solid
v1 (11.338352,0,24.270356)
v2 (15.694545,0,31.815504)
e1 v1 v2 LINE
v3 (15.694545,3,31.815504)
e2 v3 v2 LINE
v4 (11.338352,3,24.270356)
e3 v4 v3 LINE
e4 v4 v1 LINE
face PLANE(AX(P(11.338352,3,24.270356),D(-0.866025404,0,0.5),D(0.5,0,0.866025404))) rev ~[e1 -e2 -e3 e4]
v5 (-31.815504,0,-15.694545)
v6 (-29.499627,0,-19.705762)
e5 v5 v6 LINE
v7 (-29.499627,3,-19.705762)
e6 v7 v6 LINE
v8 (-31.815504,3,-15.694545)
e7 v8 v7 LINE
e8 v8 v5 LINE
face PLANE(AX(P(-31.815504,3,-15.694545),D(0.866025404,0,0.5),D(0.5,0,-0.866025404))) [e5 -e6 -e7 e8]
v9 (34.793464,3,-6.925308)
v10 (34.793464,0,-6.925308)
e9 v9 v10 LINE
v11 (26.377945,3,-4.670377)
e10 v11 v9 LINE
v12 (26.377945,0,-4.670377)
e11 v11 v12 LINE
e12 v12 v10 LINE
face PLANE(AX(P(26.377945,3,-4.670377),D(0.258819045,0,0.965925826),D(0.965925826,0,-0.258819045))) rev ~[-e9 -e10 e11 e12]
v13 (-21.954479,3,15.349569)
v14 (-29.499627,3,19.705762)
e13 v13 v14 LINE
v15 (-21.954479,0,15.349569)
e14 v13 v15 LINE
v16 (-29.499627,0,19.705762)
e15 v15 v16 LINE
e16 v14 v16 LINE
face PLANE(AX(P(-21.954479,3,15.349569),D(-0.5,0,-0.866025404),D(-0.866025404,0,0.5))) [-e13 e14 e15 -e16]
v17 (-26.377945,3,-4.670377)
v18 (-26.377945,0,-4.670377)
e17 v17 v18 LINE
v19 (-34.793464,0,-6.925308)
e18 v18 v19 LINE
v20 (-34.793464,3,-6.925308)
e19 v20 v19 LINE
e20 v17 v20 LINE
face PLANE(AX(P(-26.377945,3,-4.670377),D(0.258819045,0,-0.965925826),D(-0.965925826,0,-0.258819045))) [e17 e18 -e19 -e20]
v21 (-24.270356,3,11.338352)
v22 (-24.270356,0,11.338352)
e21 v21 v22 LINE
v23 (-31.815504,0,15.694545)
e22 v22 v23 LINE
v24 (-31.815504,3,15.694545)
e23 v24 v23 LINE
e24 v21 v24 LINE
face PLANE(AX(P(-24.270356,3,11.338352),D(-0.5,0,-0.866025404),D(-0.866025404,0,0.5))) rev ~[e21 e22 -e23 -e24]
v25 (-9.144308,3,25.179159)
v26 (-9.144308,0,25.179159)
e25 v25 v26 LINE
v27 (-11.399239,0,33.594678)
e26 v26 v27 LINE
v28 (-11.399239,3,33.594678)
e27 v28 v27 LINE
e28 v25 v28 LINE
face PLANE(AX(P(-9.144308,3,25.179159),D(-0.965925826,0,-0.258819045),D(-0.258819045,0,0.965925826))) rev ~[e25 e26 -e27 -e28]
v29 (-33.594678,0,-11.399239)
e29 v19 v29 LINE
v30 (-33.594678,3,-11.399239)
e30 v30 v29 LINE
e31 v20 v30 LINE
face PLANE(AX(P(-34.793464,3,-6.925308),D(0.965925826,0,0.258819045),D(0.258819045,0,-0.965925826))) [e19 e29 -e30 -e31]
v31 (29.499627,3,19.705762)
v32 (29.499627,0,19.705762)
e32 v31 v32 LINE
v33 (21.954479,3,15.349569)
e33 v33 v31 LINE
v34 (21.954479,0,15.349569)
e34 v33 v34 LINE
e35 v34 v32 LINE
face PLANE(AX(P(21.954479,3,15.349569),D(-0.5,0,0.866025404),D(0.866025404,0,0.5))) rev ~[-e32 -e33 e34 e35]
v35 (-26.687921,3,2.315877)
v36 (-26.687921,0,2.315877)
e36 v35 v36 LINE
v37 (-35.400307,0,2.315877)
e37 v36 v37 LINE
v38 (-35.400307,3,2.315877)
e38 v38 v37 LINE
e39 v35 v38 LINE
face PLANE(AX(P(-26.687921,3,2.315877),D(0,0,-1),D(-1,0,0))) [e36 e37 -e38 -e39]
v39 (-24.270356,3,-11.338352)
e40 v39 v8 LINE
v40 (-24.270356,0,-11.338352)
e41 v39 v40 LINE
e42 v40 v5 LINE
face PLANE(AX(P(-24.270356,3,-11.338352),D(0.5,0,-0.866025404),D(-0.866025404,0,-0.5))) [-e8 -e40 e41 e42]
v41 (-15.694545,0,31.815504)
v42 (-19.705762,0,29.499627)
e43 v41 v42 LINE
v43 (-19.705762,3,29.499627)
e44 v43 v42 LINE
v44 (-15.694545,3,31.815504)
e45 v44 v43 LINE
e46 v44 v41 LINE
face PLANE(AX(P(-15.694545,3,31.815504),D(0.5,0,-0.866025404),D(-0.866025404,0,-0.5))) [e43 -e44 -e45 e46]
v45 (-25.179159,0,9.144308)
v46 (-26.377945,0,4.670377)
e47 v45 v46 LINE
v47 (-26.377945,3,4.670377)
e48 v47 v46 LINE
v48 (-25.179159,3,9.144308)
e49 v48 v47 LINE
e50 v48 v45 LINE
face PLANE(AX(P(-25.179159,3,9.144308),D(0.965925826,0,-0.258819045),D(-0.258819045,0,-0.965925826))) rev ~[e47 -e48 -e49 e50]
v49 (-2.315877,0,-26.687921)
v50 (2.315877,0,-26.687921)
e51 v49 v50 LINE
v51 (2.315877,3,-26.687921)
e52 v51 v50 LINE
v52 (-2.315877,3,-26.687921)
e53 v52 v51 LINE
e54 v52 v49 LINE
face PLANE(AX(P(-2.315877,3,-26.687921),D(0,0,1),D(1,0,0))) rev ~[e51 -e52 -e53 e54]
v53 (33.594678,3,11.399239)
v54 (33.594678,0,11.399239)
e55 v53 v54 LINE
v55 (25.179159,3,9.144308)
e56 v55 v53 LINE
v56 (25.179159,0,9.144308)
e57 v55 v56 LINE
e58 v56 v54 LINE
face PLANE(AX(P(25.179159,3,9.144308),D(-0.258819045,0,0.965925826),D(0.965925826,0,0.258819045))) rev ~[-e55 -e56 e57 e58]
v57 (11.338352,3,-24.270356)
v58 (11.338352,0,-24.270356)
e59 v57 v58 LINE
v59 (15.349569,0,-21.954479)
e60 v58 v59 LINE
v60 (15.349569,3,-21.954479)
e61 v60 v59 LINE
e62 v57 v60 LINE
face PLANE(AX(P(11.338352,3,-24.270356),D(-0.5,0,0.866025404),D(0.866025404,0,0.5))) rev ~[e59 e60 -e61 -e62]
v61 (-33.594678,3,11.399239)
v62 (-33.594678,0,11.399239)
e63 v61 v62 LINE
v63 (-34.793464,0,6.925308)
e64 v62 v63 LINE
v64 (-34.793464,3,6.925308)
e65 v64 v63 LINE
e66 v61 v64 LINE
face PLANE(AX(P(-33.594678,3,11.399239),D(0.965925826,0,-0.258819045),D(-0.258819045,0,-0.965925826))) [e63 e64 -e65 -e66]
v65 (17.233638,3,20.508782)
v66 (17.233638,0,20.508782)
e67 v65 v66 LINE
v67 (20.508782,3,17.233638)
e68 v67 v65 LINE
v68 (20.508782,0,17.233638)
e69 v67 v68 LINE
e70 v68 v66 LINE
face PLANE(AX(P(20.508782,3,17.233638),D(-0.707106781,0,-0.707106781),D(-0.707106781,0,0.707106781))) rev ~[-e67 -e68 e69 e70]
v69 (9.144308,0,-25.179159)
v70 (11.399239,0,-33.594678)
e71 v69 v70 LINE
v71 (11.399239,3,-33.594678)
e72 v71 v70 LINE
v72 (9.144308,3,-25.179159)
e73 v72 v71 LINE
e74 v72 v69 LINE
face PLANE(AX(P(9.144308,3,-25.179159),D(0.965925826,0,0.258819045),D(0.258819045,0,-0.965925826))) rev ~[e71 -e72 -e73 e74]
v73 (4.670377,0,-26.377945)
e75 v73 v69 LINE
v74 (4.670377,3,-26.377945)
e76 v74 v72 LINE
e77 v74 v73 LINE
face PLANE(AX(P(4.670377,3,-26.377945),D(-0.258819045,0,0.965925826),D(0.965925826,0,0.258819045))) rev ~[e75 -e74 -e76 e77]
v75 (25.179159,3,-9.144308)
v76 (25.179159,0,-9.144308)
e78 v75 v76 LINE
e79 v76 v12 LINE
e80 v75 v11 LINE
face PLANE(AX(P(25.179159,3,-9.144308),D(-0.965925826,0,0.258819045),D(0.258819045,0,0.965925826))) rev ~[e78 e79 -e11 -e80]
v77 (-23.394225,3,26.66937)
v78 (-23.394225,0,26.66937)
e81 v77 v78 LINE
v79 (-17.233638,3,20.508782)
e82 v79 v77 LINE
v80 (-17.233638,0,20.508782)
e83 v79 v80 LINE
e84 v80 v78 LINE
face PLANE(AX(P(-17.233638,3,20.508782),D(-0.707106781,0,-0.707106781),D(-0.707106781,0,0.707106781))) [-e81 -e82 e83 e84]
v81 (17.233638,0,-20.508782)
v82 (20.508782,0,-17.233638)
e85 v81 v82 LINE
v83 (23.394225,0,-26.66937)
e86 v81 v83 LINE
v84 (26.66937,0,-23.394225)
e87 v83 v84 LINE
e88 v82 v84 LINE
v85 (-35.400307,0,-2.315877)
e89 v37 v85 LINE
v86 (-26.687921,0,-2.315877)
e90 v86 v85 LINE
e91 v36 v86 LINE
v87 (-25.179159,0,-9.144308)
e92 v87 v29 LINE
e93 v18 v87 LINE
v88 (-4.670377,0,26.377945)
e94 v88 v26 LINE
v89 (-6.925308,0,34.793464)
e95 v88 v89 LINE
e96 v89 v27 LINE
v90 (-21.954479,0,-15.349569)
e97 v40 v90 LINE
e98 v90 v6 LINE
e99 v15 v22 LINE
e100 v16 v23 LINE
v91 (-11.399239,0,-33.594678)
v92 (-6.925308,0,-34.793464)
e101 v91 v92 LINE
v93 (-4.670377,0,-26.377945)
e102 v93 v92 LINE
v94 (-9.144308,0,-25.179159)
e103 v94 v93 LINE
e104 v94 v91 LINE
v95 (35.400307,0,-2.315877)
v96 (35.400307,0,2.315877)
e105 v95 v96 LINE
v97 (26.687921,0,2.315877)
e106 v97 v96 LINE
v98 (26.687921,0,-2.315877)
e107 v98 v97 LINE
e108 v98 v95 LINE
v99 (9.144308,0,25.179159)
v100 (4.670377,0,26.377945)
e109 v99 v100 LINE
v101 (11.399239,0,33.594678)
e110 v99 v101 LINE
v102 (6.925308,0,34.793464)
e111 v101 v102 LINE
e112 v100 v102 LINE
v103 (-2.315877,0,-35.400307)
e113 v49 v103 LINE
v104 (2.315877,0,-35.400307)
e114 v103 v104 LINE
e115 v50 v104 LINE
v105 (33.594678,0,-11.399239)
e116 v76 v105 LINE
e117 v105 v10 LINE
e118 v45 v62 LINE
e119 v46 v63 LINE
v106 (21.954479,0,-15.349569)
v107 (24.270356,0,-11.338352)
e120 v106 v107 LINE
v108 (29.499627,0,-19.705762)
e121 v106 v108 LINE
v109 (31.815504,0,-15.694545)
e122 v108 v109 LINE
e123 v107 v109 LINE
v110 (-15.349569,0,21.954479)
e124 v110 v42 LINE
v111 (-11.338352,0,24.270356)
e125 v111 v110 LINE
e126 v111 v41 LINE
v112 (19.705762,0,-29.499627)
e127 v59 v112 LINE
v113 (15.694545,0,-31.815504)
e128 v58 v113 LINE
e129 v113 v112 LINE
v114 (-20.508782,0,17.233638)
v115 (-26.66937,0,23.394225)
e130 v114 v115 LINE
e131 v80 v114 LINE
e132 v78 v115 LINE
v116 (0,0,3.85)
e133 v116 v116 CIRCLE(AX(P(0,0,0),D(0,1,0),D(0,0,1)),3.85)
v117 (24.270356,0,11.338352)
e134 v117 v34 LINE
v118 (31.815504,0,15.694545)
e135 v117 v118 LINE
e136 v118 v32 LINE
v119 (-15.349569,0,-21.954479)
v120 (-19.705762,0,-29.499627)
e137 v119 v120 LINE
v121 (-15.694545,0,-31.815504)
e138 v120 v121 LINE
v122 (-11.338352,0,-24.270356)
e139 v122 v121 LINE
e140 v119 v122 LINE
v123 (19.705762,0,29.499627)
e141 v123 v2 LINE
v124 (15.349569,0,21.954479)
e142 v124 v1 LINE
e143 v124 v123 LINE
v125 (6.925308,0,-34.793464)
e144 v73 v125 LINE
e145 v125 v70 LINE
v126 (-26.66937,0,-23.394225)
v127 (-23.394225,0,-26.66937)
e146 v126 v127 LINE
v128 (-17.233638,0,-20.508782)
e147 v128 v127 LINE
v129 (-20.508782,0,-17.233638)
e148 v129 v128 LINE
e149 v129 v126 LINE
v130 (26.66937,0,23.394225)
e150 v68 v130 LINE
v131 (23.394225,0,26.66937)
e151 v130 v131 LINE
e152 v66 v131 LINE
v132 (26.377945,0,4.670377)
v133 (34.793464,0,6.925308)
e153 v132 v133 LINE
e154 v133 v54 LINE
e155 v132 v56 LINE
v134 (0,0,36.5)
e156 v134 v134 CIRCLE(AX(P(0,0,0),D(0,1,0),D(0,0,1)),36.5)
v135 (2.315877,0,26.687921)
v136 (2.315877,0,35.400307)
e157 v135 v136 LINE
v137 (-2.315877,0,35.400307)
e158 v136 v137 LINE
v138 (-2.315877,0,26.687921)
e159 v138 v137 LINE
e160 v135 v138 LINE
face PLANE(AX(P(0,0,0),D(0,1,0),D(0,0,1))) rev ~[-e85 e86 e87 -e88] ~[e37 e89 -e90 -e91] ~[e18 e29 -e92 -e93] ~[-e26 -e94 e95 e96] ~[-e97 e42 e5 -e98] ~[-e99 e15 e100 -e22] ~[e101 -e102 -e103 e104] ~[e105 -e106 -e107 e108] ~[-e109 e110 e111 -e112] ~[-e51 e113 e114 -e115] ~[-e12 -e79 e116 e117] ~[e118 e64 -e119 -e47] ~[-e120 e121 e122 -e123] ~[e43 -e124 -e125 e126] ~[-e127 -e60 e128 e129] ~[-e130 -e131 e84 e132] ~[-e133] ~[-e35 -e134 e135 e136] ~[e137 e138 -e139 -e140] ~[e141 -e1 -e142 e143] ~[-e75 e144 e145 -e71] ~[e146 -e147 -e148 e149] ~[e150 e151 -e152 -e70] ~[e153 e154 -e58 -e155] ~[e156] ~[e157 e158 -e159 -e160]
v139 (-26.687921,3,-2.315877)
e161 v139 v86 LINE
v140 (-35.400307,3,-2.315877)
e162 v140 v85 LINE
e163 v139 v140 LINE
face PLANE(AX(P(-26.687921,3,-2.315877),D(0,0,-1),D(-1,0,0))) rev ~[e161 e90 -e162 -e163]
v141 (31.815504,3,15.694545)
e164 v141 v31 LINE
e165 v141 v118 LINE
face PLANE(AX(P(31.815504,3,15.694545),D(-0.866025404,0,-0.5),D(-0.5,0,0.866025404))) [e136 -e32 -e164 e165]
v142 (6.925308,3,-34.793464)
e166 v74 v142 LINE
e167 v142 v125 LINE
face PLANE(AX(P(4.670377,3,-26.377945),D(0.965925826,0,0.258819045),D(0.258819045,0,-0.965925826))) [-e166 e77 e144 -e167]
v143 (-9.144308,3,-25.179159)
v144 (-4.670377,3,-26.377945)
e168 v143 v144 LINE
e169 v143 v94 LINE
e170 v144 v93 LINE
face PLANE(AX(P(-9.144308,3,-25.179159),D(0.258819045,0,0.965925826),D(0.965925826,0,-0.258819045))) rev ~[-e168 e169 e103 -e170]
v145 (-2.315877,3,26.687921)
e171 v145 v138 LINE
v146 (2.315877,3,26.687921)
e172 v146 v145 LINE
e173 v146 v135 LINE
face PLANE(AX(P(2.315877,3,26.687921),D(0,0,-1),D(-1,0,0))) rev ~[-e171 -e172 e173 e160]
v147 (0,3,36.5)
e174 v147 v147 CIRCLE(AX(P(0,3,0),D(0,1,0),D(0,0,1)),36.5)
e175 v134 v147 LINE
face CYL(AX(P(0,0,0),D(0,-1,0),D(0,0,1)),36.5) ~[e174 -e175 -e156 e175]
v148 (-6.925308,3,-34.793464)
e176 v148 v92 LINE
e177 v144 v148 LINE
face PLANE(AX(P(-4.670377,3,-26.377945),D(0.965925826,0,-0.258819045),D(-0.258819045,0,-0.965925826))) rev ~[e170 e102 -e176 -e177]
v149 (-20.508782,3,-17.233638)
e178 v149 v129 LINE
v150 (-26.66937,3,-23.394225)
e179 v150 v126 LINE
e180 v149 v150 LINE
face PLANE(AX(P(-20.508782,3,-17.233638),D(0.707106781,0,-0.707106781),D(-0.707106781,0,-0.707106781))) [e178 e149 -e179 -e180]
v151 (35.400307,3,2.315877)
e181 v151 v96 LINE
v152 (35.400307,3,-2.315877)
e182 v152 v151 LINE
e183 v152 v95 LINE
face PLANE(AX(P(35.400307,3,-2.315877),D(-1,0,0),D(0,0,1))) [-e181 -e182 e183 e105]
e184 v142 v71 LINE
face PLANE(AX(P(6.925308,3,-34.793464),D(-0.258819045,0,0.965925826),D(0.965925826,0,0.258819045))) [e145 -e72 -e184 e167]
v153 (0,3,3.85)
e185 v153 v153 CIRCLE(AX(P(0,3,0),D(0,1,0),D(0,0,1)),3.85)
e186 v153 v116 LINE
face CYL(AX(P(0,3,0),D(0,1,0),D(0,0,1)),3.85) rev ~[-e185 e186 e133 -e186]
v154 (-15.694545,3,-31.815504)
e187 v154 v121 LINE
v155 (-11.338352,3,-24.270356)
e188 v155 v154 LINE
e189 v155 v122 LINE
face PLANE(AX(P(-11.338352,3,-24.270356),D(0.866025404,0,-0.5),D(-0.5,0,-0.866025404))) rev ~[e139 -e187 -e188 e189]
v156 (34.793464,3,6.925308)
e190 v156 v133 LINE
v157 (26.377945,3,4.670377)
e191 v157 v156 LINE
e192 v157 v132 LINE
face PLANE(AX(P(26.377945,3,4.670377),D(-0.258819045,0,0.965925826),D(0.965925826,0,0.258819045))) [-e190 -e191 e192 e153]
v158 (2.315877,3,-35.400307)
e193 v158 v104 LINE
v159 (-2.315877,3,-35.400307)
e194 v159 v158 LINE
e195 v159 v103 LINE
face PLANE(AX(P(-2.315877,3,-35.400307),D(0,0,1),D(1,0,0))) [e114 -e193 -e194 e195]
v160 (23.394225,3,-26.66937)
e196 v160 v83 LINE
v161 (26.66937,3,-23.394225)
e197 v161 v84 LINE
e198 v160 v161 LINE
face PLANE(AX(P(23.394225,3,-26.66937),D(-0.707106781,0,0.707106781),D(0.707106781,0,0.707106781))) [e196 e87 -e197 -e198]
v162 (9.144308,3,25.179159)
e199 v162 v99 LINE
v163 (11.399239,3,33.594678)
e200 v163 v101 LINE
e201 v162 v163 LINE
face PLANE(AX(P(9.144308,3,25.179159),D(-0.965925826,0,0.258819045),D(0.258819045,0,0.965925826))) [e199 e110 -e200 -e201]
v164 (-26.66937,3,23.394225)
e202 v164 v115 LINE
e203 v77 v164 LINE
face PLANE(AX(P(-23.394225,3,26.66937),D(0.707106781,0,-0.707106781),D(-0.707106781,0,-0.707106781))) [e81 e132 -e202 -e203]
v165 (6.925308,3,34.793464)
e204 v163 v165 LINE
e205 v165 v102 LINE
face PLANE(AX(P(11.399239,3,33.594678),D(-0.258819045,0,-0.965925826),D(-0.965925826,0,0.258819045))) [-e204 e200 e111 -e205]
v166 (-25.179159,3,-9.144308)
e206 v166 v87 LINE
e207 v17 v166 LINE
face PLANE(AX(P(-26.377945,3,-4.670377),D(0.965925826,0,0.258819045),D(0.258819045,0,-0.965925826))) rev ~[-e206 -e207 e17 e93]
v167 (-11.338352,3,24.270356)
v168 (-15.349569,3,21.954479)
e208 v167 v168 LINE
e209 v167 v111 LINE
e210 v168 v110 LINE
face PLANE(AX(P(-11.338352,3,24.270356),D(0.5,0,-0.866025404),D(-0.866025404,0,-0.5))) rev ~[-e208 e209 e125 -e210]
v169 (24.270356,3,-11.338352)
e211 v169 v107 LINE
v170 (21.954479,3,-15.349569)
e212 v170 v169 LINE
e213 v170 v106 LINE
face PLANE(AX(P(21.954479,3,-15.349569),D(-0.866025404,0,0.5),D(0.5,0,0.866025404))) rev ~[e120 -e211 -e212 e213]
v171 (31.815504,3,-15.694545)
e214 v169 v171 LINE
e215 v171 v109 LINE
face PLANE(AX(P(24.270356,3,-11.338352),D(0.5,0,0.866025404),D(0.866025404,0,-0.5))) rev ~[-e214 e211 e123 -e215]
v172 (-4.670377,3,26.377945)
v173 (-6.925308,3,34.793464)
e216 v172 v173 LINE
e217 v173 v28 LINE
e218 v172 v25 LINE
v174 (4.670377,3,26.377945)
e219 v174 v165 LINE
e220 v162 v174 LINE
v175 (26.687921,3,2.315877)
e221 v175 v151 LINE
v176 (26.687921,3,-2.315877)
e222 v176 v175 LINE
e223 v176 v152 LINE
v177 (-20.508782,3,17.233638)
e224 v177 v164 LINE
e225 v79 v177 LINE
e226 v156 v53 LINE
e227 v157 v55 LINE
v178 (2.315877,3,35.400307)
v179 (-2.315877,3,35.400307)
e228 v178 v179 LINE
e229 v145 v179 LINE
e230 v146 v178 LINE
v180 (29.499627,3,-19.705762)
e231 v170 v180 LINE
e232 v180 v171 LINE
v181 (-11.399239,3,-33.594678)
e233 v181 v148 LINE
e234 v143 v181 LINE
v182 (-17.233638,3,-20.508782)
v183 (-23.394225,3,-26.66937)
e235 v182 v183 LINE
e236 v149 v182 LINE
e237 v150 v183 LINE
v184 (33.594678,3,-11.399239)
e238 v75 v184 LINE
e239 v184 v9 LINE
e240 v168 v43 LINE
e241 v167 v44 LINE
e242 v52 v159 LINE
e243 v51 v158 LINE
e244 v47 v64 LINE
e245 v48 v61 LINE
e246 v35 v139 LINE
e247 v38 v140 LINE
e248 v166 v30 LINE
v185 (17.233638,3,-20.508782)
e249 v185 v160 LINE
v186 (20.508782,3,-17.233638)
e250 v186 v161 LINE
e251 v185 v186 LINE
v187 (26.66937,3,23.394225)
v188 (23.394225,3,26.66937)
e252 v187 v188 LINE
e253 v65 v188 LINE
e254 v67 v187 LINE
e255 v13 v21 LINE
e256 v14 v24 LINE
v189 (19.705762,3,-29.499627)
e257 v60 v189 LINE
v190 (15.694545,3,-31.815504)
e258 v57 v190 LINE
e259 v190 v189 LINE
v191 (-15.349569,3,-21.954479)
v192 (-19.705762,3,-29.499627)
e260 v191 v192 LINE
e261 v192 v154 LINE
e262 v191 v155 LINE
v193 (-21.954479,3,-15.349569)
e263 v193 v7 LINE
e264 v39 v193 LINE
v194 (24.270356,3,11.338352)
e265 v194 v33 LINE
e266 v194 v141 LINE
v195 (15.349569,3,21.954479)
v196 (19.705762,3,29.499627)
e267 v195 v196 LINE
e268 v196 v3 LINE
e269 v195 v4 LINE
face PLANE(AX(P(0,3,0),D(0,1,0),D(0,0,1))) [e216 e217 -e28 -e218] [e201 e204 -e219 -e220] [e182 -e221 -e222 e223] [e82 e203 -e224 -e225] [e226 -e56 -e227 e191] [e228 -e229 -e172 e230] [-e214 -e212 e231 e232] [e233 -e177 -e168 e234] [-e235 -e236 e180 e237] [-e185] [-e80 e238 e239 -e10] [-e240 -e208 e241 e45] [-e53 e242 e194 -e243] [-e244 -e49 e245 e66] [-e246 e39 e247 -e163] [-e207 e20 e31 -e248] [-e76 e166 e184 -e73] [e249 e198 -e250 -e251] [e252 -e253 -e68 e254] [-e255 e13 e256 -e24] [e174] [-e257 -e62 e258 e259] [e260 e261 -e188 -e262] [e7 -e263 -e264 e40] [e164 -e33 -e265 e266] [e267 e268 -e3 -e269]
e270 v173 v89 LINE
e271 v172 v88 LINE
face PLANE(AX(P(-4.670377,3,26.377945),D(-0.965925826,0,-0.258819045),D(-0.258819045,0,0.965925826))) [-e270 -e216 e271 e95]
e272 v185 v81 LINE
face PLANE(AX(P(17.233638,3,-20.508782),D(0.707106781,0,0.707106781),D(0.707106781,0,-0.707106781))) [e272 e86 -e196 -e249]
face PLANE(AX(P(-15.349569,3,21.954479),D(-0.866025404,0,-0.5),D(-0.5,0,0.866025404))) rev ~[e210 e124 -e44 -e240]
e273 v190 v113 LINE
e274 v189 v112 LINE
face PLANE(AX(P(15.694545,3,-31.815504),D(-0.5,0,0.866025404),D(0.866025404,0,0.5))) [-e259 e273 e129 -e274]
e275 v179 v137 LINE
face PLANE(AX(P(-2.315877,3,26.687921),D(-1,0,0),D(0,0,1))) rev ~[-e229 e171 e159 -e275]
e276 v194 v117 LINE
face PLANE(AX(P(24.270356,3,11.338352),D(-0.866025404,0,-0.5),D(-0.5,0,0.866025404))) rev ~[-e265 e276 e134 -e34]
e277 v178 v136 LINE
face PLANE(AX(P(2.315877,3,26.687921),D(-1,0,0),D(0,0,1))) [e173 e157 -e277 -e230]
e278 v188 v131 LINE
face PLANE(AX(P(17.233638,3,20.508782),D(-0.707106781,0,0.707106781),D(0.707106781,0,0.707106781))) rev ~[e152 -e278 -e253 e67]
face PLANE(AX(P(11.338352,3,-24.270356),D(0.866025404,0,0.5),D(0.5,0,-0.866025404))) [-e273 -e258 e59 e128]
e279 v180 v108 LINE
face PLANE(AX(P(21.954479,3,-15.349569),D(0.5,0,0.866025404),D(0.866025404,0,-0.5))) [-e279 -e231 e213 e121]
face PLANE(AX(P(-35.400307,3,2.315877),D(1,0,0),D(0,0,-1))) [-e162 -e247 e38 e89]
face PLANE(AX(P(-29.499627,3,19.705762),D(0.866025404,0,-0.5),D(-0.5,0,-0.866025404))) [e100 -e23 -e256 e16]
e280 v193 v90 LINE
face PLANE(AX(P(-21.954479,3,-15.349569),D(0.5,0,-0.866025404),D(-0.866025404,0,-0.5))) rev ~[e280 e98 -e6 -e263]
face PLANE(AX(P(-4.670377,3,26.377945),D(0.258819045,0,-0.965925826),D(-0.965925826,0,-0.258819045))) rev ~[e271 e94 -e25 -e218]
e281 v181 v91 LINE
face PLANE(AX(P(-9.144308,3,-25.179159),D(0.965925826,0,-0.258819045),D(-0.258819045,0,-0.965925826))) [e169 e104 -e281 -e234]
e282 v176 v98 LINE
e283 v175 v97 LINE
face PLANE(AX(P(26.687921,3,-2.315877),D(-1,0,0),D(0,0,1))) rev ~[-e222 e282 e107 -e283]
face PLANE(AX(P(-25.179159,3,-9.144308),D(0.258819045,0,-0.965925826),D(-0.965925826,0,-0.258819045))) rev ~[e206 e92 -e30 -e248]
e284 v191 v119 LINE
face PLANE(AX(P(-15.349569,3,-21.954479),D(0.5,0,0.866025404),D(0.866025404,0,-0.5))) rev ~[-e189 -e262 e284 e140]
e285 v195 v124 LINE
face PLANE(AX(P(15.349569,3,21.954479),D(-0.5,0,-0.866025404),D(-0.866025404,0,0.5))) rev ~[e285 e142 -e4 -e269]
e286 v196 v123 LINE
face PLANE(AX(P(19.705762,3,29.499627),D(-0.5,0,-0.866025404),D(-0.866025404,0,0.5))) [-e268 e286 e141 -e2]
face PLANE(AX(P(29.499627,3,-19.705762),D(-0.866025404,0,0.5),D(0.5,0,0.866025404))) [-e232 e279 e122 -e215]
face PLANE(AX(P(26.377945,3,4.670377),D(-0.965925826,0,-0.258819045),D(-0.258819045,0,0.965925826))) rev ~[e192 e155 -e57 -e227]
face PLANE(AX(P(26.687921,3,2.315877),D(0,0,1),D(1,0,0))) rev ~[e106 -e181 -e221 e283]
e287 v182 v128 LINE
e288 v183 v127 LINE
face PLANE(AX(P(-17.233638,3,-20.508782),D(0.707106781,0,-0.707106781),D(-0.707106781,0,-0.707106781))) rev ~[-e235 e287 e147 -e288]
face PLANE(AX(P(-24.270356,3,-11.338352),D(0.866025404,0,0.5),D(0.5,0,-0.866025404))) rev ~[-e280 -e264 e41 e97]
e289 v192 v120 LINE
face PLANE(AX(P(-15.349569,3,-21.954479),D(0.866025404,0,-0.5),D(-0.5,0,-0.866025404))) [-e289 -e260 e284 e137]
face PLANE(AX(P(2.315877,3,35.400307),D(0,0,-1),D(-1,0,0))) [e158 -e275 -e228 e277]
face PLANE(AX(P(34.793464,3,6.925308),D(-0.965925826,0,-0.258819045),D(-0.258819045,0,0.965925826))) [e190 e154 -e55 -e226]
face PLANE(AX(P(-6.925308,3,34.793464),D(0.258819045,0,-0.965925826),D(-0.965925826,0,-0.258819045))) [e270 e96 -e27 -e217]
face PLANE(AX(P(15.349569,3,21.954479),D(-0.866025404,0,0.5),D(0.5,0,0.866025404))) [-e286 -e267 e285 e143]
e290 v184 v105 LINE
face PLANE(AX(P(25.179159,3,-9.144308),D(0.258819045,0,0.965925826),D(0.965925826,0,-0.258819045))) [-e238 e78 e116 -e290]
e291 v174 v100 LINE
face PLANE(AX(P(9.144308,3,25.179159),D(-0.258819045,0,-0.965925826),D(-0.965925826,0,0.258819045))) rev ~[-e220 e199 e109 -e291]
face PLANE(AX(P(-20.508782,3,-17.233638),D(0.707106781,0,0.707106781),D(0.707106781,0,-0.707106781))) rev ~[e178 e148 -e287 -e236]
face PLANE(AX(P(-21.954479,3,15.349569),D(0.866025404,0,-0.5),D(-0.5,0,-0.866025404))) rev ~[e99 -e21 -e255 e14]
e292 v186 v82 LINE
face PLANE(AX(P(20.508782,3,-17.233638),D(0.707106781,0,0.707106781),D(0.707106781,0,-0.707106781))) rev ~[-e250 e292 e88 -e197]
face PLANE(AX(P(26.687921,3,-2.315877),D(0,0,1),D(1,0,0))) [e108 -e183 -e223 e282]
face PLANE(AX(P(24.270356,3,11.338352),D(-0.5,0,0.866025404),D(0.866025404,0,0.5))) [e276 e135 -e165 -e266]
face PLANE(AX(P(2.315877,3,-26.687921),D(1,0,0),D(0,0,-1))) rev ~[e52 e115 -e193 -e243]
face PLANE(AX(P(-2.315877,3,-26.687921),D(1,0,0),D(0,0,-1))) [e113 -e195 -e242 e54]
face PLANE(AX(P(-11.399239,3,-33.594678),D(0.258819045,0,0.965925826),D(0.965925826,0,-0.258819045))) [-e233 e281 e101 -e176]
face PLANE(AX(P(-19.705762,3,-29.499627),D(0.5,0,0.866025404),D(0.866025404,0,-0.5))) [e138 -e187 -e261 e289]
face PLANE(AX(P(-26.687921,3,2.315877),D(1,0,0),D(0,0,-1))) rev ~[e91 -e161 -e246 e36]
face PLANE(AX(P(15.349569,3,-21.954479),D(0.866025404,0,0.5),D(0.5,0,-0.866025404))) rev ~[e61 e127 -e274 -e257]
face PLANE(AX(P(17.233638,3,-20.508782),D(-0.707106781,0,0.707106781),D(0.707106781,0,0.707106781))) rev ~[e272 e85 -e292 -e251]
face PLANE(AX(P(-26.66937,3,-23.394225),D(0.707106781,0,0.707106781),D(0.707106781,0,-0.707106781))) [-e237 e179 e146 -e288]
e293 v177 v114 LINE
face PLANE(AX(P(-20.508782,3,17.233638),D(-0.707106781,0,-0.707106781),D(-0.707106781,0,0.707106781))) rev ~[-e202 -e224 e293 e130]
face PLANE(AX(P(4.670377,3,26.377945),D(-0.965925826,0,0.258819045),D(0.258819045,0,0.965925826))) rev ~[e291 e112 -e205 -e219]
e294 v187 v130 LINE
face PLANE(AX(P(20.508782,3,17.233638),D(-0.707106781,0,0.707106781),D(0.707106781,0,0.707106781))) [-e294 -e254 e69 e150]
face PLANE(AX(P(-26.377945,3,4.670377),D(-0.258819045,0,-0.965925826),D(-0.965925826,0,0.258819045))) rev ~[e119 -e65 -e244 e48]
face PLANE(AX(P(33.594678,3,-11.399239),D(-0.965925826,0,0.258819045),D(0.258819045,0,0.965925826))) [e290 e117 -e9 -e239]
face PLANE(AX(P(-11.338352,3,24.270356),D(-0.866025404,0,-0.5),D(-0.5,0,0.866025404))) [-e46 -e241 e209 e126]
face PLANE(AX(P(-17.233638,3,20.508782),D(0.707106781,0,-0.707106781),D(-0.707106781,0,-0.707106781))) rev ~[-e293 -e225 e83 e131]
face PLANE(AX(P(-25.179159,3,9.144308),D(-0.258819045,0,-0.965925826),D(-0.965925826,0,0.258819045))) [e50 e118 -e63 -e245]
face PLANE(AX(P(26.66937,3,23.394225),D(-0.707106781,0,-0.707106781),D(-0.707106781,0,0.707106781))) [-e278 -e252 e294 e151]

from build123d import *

# Parameters (mm, degrees)
SKETCH1_R           = 36.5
BOSS_EXTRUDE1_DEPTH = 3
SKETCH2_R           = 3.85
CUT_EXTRUDE1_DEPTH  = 52.705899083
SKETCH3_W           = 4.631754054
SKETCH3_H           = 8.712386095
CUT_EXTRUDE2_DEPTH  = 52.705899083
CIRPATTERN1_COUNT   = 24


with BuildPart() as part:
    # Sketch1 → Boss-Extrude1 (new body)
    with BuildSketch(Plane(origin=(0, 0, 0), x_dir=(1, 0, 0), z_dir=(0, 1, 0))):
        with Locations(Location((0, 0, 0), (0, 0, 270))):
            Circle(SKETCH1_R)
    extrude(amount=BOSS_EXTRUDE1_DEPTH)

    # Sketch2 → Cut-Extrude1 (cut, through all)
    with BuildSketch(Plane(origin=(0, 3, 0), x_dir=(1, 0, 0), z_dir=(0, 1, 0))):
        with Locations(Location((0, 0, 0), (0, 0, 270))):
            Circle(SKETCH2_R)
    extrude(amount=-CUT_EXTRUDE1_DEPTH, mode=Mode.SUBTRACT)

    # Sketch3 → Cut-Extrude2 (cut, through all)
    with BuildSketch(Plane(origin=(0, 3, 0), x_dir=(1, 0, 0), z_dir=(0, 1, 0))):
        with Locations((0, 31.044114287)):
            Rectangle(SKETCH3_W, SKETCH3_H)
    cut_extrude2 = extrude(amount=-CUT_EXTRUDE2_DEPTH, mode=Mode.SUBTRACT)

    # CirPattern1: Cut-Extrude2 ×24 about axis
    cirpattern1_axis = Axis((0, 0, 0), (0, 1, 0))
    for i in range(1, CIRPATTERN1_COUNT):
        add(cut_extrude2.rotate(cirpattern1_axis, i * 360 / CIRPATTERN1_COUNT), mode=Mode.SUBTRACT)


solid = part.part
